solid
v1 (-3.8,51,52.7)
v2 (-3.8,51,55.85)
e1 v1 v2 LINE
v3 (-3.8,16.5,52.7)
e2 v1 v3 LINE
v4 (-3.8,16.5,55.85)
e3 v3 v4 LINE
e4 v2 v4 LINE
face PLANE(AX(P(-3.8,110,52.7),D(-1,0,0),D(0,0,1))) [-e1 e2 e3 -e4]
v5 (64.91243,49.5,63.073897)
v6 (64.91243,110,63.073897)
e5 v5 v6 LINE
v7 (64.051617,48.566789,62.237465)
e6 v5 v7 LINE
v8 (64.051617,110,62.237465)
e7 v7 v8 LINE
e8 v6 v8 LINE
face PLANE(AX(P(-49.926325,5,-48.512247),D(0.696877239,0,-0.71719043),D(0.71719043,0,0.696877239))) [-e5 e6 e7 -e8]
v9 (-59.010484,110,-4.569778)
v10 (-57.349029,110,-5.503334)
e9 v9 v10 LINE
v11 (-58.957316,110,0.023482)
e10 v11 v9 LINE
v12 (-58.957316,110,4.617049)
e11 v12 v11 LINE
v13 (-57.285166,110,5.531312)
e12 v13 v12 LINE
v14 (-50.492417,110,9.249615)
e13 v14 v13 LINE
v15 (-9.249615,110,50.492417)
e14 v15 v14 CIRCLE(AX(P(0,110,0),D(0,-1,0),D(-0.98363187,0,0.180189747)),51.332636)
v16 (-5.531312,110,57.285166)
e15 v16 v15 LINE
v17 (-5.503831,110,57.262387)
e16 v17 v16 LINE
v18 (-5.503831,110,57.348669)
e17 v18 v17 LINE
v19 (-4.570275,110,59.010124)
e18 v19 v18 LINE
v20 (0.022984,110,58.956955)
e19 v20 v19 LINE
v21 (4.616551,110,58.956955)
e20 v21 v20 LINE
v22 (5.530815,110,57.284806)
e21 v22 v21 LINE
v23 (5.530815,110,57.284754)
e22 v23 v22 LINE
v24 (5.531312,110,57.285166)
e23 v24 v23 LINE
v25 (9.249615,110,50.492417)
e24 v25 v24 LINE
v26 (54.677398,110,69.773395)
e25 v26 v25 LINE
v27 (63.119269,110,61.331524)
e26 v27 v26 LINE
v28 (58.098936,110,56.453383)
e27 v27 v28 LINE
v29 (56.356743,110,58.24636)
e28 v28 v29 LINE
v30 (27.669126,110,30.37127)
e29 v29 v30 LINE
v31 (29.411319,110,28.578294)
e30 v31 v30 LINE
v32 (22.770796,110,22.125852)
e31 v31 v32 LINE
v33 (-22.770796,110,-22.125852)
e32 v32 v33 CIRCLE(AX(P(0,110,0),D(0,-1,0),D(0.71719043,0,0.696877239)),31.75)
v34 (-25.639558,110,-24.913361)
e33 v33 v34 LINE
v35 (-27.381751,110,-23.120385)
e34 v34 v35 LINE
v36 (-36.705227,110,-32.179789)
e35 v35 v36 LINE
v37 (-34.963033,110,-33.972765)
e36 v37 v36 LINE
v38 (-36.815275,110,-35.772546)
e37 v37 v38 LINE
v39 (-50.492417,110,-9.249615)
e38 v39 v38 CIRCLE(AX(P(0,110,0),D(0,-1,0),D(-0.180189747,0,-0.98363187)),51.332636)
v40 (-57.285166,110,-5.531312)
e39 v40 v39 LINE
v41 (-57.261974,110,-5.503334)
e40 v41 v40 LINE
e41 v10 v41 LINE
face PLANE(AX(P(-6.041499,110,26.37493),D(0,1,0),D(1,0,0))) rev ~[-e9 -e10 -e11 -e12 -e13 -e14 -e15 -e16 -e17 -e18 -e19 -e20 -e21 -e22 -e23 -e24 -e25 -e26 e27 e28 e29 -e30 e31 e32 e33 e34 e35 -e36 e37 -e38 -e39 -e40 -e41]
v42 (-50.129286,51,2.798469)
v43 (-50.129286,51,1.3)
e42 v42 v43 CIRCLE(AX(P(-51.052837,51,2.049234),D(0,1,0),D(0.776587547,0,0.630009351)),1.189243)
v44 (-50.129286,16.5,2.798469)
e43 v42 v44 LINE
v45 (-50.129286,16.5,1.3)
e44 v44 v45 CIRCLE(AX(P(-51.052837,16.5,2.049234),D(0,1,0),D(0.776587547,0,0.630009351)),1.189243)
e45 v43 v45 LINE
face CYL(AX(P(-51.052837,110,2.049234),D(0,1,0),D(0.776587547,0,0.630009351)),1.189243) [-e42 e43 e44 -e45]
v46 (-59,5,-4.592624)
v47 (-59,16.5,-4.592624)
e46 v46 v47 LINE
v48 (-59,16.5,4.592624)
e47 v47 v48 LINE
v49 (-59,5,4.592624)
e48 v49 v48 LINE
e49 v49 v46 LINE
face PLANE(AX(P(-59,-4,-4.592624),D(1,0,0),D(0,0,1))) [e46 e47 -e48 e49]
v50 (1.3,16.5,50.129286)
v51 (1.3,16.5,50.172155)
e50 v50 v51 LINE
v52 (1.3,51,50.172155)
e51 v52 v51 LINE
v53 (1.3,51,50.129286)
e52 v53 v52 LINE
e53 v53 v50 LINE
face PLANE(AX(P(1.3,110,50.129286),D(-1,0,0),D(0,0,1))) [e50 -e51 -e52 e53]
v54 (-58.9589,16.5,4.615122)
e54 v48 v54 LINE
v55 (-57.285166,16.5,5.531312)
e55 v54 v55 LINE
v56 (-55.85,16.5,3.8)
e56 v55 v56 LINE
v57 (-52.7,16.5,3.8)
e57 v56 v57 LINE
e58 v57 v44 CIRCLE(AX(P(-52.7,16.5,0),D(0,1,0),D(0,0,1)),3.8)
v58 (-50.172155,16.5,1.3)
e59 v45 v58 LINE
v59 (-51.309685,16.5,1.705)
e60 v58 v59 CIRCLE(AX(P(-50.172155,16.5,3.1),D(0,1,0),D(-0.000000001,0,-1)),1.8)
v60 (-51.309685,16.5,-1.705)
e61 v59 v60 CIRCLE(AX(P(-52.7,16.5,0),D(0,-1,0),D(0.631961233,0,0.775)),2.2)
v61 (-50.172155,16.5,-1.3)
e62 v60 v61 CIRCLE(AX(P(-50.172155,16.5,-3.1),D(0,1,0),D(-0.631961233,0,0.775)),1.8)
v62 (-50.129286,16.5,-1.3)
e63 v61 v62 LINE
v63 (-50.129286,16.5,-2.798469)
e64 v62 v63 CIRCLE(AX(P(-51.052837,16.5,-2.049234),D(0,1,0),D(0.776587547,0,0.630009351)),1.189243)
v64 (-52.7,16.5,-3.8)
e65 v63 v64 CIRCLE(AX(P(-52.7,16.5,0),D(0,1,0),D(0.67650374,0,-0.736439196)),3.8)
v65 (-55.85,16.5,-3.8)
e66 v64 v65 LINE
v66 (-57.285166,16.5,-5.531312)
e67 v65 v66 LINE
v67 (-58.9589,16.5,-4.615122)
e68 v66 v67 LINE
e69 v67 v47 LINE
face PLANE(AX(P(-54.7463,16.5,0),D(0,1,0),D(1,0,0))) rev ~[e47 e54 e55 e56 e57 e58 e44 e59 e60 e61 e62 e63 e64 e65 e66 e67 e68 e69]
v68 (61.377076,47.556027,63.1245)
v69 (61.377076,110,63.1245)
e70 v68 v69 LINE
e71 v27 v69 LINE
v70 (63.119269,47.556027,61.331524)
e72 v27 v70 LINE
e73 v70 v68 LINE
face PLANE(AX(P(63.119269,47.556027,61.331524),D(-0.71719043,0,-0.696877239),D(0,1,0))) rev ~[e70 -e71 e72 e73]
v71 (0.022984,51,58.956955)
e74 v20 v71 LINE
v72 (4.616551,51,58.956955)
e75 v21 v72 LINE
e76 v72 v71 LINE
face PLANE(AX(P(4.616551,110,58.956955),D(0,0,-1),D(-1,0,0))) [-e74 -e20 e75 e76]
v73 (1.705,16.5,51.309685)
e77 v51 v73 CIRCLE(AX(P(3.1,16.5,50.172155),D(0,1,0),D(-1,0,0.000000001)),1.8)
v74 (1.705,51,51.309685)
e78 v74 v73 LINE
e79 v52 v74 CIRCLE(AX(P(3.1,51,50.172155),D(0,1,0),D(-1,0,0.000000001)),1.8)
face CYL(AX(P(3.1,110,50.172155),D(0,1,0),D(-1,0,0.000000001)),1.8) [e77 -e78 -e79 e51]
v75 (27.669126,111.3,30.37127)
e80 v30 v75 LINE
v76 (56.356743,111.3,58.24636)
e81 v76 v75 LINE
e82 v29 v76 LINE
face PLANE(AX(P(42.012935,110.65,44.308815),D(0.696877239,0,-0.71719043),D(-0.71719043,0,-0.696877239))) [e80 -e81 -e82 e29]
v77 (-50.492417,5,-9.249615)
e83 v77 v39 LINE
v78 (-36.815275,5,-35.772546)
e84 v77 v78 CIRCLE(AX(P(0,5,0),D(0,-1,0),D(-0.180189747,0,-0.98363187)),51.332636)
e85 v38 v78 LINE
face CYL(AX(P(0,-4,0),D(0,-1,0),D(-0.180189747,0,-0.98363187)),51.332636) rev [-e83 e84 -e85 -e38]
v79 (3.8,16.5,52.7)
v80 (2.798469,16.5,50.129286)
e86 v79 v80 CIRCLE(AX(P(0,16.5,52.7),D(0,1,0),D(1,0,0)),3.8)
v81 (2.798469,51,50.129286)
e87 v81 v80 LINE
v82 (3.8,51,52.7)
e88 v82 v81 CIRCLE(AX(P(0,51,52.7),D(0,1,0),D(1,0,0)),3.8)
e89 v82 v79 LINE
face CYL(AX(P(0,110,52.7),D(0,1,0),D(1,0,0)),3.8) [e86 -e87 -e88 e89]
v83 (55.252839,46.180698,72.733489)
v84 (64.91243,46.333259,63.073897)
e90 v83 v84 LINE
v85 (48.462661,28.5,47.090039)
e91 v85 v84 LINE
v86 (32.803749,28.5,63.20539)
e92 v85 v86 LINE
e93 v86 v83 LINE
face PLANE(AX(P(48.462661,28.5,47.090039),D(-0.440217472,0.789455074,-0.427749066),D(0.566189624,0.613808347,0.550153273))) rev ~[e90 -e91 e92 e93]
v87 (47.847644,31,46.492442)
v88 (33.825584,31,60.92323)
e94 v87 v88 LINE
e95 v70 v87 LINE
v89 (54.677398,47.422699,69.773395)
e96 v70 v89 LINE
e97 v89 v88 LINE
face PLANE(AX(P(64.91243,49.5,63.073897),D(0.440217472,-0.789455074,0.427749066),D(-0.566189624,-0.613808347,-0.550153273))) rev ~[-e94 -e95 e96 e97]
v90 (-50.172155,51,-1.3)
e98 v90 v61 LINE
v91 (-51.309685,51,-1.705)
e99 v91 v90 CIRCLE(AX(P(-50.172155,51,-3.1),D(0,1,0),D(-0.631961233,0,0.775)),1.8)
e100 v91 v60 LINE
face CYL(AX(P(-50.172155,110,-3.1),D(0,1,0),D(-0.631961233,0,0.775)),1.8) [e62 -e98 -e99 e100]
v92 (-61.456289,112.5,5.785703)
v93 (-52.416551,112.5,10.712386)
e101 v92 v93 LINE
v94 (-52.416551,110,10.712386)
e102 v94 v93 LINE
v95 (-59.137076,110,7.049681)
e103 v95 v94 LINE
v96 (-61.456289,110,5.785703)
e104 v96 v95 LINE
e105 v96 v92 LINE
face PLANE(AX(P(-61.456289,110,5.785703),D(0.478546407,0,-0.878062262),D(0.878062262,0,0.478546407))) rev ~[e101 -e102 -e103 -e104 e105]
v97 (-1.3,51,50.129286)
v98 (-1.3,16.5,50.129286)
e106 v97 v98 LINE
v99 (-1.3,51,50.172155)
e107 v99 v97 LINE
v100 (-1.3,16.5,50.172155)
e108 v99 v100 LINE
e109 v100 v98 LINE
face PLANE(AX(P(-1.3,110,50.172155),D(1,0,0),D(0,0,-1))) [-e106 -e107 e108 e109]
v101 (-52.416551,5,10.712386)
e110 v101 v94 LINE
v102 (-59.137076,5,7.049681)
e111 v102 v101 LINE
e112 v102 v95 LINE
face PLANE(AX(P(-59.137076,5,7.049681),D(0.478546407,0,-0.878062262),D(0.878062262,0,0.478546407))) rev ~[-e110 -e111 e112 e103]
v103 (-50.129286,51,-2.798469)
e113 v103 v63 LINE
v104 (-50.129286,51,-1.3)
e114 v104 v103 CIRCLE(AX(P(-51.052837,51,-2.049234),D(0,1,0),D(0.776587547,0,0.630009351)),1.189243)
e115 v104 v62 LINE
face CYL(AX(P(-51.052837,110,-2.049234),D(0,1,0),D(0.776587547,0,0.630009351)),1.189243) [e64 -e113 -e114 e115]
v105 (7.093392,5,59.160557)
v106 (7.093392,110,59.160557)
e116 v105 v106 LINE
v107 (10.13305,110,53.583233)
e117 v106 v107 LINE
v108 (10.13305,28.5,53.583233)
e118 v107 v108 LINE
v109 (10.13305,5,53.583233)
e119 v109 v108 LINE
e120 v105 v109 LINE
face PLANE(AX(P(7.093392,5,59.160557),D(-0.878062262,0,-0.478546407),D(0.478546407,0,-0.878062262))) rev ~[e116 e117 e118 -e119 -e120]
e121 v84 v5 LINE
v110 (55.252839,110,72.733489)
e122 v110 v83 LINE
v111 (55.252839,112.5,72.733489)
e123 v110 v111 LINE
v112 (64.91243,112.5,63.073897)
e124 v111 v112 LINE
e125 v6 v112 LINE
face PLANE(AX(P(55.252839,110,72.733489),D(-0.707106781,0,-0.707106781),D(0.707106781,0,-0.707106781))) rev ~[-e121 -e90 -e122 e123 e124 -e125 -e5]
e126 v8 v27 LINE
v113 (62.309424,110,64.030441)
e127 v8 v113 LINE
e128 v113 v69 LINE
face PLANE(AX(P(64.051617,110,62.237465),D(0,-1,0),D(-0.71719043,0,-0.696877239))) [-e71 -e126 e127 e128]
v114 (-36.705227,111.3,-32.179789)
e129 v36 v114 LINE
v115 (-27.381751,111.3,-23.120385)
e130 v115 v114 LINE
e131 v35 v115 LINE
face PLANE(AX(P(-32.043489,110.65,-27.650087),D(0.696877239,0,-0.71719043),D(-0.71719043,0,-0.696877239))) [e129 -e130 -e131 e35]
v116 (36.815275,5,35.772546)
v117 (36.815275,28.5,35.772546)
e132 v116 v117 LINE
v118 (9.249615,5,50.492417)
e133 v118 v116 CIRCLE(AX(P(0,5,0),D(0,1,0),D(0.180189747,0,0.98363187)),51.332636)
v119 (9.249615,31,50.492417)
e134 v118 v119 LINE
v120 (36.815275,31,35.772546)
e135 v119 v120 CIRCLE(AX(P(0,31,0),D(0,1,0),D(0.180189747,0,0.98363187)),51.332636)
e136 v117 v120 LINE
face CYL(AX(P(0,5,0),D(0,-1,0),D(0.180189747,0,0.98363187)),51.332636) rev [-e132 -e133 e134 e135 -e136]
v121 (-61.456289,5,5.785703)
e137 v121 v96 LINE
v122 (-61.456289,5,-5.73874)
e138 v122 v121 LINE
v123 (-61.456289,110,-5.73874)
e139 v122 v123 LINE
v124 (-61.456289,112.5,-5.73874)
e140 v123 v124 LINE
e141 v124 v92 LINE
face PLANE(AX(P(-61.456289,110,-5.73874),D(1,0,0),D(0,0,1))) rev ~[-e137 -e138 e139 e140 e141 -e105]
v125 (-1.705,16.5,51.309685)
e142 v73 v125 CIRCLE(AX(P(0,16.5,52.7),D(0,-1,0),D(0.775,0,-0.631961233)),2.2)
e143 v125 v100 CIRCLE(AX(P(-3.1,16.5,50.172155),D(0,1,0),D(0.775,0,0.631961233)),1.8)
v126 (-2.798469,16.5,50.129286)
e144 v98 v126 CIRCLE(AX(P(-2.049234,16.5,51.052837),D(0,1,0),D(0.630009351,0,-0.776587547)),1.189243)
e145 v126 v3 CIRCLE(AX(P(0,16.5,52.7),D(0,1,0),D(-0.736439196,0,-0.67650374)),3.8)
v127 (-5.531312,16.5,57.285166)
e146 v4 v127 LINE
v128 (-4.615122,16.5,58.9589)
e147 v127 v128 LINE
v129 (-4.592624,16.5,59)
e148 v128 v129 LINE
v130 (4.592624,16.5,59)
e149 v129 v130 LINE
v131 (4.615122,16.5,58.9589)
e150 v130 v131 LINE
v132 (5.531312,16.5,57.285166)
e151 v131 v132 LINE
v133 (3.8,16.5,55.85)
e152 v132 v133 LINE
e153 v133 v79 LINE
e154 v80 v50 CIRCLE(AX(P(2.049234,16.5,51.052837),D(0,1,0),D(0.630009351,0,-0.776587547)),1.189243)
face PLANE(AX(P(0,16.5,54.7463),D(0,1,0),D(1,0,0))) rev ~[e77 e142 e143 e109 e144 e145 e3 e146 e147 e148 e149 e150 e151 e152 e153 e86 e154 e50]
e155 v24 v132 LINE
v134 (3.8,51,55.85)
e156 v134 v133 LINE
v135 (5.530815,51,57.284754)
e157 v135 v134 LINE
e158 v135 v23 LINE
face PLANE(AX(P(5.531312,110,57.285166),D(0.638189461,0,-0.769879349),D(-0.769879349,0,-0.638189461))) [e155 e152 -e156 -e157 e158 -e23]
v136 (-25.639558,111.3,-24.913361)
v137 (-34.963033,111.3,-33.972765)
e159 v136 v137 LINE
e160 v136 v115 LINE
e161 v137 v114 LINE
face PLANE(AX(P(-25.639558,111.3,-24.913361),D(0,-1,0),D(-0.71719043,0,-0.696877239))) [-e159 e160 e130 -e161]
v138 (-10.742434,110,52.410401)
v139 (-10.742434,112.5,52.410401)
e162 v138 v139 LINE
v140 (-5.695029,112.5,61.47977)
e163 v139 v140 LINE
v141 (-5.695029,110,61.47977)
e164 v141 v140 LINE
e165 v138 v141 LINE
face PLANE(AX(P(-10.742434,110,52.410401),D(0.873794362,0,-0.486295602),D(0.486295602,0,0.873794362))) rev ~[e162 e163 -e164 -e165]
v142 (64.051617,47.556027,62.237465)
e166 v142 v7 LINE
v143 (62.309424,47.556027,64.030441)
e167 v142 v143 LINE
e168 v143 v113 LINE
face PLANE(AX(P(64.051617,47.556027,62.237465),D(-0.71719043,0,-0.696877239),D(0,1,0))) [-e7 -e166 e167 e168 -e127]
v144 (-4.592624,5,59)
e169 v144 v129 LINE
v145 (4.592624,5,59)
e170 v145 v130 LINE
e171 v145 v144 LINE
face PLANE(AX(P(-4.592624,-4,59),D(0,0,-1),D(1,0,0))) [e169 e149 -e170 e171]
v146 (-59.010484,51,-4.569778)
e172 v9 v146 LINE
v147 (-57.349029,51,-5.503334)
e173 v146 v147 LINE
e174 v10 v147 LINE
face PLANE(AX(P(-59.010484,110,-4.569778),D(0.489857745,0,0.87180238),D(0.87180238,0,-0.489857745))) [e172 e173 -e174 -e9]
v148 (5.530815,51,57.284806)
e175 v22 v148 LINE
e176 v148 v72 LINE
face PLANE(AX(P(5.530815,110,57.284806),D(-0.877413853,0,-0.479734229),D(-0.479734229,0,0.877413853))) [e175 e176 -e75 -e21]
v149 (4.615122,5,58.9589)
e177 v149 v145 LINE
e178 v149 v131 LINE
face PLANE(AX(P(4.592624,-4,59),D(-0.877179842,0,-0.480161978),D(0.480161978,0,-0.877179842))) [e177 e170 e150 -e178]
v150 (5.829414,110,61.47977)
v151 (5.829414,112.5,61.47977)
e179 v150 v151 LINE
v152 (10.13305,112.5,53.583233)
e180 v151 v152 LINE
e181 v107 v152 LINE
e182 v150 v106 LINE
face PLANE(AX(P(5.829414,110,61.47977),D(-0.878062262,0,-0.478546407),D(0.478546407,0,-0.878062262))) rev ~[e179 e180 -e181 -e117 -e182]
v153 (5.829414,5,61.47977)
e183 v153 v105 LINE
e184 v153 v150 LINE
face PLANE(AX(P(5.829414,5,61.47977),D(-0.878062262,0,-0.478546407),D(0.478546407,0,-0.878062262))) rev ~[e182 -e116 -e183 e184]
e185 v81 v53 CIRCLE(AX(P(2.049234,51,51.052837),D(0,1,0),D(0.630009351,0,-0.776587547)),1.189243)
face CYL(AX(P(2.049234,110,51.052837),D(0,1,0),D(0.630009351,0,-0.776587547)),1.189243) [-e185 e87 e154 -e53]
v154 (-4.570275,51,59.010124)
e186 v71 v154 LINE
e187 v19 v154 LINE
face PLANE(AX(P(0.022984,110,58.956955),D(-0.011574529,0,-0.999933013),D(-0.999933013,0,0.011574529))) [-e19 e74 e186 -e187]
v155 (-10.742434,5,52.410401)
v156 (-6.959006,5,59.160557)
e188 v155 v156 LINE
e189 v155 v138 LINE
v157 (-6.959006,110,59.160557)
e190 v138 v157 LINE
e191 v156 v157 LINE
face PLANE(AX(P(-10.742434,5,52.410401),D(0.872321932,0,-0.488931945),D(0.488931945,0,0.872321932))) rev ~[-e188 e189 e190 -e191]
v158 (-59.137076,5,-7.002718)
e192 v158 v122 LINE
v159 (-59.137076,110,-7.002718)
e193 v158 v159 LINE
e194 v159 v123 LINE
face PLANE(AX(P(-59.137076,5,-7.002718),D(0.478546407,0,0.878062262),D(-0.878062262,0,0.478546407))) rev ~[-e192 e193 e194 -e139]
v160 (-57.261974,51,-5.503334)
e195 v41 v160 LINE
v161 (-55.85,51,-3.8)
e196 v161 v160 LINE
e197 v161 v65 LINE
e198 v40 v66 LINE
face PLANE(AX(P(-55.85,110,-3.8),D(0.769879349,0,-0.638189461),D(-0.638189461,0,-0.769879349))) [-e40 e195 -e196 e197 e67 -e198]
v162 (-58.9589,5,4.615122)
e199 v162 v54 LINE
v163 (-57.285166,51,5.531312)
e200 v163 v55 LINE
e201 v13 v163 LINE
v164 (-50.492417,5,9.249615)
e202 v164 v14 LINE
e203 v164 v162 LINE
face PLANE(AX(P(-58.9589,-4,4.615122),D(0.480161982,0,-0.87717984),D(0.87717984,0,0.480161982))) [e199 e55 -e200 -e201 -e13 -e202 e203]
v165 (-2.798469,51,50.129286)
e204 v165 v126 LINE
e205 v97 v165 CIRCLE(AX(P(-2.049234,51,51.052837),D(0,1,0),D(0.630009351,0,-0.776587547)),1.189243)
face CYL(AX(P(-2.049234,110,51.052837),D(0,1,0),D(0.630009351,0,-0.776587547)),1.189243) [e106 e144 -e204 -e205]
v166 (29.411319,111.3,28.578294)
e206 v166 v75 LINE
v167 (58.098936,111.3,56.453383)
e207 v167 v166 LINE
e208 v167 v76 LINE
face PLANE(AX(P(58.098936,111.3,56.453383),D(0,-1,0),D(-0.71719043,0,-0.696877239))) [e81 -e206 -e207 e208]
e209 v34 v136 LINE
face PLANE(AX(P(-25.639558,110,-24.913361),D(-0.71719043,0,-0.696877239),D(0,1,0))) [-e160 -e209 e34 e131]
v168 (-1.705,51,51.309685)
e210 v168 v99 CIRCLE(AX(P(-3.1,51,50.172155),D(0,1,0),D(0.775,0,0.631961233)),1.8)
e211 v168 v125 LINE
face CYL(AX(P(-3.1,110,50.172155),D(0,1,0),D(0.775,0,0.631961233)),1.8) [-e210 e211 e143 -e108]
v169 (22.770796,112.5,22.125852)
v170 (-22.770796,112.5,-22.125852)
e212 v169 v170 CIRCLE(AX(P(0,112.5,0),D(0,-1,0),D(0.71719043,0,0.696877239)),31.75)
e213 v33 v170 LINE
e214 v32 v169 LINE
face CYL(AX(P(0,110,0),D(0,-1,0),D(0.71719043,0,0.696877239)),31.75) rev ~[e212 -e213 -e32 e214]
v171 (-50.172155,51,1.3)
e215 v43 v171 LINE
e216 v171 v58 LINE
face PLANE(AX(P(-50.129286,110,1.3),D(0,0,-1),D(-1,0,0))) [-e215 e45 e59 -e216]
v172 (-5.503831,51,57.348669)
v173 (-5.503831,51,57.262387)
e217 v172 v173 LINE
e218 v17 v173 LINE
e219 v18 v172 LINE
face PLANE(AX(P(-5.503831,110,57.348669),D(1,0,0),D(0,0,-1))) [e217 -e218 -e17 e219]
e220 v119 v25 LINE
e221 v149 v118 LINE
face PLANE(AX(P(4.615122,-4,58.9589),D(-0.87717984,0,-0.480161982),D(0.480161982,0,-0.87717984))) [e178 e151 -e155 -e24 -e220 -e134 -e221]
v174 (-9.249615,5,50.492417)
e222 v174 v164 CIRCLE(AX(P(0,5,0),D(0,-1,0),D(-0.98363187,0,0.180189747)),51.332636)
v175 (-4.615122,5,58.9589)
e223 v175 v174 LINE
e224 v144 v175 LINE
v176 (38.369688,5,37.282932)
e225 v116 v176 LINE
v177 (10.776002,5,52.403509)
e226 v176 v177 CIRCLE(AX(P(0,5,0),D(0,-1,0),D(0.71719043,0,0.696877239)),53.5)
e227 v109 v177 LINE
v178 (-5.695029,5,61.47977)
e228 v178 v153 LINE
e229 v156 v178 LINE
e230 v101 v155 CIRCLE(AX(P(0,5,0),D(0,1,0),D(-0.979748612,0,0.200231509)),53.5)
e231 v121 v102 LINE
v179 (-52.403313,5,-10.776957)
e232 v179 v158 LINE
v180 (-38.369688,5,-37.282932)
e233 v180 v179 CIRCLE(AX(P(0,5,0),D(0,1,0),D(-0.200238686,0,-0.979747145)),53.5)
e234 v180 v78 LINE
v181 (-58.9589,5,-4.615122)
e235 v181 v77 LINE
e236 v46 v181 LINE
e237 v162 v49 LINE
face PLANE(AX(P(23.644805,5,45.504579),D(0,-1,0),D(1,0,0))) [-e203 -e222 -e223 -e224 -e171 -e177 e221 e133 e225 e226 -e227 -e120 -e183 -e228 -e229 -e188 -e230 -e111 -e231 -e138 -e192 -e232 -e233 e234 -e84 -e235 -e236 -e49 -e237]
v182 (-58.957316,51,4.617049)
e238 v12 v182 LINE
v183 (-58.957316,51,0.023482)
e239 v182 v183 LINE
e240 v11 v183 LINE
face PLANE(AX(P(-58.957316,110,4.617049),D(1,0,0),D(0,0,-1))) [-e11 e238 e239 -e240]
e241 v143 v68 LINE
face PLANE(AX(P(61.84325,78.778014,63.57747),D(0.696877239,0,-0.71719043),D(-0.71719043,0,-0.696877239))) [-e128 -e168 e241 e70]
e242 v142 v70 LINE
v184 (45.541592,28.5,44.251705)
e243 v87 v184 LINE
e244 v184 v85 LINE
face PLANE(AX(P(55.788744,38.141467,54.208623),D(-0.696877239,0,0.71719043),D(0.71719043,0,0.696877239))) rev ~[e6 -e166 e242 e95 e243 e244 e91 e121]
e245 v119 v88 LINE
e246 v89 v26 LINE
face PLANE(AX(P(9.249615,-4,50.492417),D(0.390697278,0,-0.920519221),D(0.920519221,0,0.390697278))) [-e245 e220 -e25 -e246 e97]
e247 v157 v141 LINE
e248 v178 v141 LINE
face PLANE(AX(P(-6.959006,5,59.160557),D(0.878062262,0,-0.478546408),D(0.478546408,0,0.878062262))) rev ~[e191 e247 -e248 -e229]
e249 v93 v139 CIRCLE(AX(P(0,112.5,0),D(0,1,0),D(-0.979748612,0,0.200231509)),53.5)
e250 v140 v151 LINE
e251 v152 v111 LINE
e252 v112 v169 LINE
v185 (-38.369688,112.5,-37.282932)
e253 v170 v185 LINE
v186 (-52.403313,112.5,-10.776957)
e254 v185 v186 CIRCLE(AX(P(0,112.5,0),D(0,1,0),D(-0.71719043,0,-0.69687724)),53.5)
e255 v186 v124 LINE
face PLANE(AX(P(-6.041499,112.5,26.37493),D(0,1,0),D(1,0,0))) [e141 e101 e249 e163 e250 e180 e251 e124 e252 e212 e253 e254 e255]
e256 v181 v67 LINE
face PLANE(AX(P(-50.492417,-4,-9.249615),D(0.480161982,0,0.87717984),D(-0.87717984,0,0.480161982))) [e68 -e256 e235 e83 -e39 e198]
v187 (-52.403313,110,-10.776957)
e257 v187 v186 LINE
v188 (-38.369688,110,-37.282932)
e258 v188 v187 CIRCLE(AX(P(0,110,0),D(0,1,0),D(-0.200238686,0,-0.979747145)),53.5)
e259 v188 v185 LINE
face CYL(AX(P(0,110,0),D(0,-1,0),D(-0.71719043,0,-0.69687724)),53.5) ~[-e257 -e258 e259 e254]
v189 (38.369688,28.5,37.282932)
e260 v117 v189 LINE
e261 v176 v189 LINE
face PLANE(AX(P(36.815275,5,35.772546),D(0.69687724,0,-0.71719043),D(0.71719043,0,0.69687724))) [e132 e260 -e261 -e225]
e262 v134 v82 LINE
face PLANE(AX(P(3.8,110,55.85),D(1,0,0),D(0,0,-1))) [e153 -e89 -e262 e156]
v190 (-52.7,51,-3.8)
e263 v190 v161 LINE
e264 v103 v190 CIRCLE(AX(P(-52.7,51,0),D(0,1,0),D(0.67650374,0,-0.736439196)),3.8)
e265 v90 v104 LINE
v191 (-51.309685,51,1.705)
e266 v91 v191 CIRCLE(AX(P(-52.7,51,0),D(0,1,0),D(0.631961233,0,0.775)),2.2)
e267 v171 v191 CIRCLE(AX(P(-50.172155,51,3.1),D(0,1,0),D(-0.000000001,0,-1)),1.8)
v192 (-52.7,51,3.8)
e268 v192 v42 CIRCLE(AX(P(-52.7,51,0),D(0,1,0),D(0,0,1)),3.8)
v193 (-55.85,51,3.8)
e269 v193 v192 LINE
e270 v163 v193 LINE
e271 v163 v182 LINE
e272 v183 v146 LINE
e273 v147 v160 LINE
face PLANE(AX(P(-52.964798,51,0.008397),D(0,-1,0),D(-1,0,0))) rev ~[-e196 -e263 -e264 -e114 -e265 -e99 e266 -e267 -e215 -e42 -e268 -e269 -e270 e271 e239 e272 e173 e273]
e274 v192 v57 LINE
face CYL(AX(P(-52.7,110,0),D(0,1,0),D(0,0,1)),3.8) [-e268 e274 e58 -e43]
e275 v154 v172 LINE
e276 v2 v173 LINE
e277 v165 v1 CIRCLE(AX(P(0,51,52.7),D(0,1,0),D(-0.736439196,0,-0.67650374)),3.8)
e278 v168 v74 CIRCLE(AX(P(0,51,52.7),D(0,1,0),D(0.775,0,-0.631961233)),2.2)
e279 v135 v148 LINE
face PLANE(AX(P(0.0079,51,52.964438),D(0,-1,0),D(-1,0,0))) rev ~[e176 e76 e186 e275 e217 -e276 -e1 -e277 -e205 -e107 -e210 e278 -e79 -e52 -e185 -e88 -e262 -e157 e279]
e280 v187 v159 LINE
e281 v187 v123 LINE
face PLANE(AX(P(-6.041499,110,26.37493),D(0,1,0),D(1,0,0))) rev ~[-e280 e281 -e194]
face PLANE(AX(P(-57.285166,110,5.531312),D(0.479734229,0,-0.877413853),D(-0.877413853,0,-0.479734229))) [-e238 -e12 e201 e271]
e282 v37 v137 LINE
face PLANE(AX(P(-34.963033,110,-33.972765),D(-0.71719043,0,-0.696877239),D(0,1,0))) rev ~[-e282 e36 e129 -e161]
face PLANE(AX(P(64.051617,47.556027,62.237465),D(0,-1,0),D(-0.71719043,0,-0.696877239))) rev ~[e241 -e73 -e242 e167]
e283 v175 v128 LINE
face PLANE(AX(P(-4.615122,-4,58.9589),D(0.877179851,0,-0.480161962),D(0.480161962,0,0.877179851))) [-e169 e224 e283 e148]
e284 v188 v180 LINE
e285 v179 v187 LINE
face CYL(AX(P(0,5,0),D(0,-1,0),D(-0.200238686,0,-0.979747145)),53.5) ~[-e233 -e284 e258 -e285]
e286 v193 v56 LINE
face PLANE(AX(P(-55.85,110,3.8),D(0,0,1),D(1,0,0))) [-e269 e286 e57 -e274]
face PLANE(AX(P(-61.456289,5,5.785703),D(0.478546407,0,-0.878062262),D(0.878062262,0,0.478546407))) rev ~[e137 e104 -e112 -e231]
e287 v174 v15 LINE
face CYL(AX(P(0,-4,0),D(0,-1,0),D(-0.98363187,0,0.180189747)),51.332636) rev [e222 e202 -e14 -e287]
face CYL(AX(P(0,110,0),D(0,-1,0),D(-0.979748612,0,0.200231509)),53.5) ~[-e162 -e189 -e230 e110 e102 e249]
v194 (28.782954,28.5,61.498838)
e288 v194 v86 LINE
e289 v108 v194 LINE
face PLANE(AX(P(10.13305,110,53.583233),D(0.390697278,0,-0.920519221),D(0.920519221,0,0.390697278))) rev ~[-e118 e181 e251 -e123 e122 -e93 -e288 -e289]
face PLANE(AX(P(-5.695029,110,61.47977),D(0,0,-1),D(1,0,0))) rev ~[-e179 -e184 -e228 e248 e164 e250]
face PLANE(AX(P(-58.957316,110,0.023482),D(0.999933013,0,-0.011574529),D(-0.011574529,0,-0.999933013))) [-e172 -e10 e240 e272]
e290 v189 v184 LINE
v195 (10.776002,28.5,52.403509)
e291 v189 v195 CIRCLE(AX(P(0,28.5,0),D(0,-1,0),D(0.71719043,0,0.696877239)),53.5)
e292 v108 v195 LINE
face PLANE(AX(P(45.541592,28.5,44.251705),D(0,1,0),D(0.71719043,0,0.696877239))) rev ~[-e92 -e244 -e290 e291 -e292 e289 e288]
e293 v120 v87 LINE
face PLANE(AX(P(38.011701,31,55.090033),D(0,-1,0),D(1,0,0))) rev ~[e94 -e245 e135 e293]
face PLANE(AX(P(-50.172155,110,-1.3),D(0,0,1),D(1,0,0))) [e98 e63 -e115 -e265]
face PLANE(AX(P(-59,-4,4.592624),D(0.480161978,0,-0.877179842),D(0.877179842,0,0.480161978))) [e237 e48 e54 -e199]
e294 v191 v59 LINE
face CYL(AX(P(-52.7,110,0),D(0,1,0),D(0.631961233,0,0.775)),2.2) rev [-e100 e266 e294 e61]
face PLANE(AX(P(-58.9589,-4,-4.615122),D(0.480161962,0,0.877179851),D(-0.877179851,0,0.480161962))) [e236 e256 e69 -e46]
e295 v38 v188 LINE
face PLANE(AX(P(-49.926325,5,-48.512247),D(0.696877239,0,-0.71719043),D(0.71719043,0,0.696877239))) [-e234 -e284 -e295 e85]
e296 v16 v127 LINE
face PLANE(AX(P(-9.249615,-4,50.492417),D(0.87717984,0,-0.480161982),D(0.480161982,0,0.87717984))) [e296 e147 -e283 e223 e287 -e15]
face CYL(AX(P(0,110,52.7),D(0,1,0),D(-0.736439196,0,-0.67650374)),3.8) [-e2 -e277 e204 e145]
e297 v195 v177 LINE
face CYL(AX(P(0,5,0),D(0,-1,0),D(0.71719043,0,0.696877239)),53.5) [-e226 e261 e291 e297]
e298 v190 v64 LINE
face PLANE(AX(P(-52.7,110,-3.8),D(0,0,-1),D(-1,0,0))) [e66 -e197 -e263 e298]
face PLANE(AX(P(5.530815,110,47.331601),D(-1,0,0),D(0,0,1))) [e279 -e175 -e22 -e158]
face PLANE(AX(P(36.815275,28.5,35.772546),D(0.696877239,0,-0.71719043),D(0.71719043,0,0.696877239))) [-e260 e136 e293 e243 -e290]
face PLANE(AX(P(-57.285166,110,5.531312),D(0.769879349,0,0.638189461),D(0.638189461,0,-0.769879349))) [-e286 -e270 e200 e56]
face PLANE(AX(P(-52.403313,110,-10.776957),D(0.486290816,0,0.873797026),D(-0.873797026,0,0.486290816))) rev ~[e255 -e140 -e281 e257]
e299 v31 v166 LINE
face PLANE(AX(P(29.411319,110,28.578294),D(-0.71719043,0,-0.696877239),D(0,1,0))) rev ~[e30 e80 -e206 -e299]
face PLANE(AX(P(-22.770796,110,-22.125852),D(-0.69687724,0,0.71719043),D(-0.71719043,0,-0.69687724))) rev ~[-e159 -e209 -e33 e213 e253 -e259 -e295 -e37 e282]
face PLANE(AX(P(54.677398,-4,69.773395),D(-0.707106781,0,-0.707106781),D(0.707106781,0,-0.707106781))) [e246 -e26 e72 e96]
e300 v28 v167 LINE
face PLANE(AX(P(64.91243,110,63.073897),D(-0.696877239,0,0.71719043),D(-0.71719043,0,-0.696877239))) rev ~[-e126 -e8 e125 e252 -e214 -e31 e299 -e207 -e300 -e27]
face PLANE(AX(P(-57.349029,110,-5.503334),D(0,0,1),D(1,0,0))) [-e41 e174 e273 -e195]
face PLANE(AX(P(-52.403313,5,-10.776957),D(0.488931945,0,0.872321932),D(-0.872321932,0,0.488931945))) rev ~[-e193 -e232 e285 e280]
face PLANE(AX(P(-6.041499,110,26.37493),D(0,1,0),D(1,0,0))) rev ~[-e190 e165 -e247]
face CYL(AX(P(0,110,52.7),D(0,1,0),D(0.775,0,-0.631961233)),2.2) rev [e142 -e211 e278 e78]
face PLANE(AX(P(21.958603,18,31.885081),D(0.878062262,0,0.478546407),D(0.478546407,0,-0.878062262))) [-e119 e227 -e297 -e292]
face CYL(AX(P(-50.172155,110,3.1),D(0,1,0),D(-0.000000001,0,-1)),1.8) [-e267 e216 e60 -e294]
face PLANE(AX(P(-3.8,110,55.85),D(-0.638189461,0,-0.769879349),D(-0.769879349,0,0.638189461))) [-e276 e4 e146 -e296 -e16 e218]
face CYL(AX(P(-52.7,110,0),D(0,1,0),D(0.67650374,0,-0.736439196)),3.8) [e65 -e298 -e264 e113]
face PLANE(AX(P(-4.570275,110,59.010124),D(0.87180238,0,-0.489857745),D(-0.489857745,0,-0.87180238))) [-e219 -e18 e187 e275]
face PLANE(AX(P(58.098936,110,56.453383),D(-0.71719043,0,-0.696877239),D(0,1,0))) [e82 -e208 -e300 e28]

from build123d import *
from build123d.topology import SkipClean

# Parameters (mm, degrees)
SALIENTE_EXTRUIR1_DEPTH  = 5
CROQUIS2_R               = 2.1
CORTAR_EXTRUIR1_DEPTH    = 83.176639016
CORTAR_EXTRUIR2_DEPTH    = 83.176639016
CROQUIS5_R               = 2.05
CORTAR_EXTRUIR4_DEPTH    = 83.176639016
SALIENTE_EXTRUIR2_DEPTH  = 5
CORTAR_EXTRUIR10_DEPTH   = 98.128780493
SALIENTE_EXTRUIR4_DEPTH  = 4
SALIENTE_EXTRUIR5_DEPTH  = 4
CROQUIS17_R              = 2.4
CORTAR_EXTRUIR11_DEPTH   = 98.128780493
SALIENTE_EXTRUIR6_DEPTH  = 105
CORTAR_EXTRUIR12_DEPTH   = 200
CORTAR_EXTRUIR13_DEPTH   = 200
SALIENTE_EXTRUIR7_DEPTH  = 93.5
CROQUIS28_W              = 67.409090619
CROQUIS28_H              = 26
CORTAR_EXTRUIR15_DEPTH   = 104
SALIENTE_EXTRUIR12_START = 2.5
SALIENTE_EXTRUIR12_DEPTH = 2.5
SALIENTE_EXTRUIR13_START = 23.5
SALIENTE_EXTRUIR13_DEPTH = 23.5
CORTAR_EXTRUIR20_DEPTH   = 50
SALIENTE_EXTRUIR18_DEPTH = 30.5
CROQUIS45_W              = 45.132524043
CROQUIS45_H              = 53.175944169
CORTAR_EXTRUIR23_DEPTH   = 30.5
CROQUIS46_W              = 25.804527637
CROQUIS46_H              = 25.652736297
CORTAR_EXTRUIR24_DEPTH   = 30.5
CORTAR_EXTRUIR26_DEPTH   = 59
SALIENTE_EXTRUIR19_DEPTH = 2.5
CROQUIS49_W              = 1.3
CROQUIS49_H              = 62.443972795
CORTAR_EXTRUIR27_DEPTH   = 2.5
CROQUIS50_W              = 40
CROQUIS50_H              = 1.3
CORTAR_EXTRUIR28_DEPTH   = 2.5
CROQUIS51_W              = 13
CROQUIS51_H              = 1.3
CORTAR_EXTRUIR29_DEPTH   = 2.5


with BuildPart() as part:
    # Croquis1 → Saliente-Extruir1 (new body)
    with BuildSketch(Plane(origin=(0, 0, 0), x_dir=(1, 0, 0), z_dir=(0, 1, 0))):
        with BuildLine():
            Line((4, 58), (8.807070745, 49.218243619))
            ThreePointArc((8.807070745, 49.218243619), (35.355339059, 35.355339059), (49.218243619, 8.807070745))
            Line((49.218243619, 8.807070745), (58, 4))
            Line((58, 4), (58, -4))
            Line((58, -4), (49.218243619, -8.807070745))
            ThreePointArc((49.218243619, -8.807070745), (35.355339059, -35.355339059), (8.807070745, -49.218243619))
            Line((8.807070745, -49.218243619), (4, -58))
            Line((4, -58), (-4, -58))
            Line((-4, -58), (-8.807070745, -49.218243619))
            ThreePointArc((-8.807070745, -49.218243619), (-35.355339059, -35.355339059), (-49.218243619, -8.807070745))
            Line((-49.218243619, -8.807070745), (-58, -4))
            Line((-58, -4), (-58, 4))
            Line((-58, 4), (-49.218243619, 8.807070745))
            ThreePointArc((-49.218243619, 8.807070745), (-35.355339059, 35.355339059), (-8.807070745, 49.218243619))
            Line((-8.807070745, 49.218243619), (-4, 58))
            Line((-4, 58), (4, 58))
        make_face()
    extrude(amount=SALIENTE_EXTRUIR1_DEPTH)

    # Croquis2 → Cortar-Extruir1 (cut, through all)
    with BuildSketch(Plane(origin=(0, 5, 0), x_dir=(1, 0, 0), z_dir=(0, 1, 0))):
        with Locations(Location((0, 52.7, 0), (0, 0, 270))):
            Circle(CROQUIS2_R)
        with Locations(Location((52.7, 0, 0), (0, 0, 270))):
            Circle(CROQUIS2_R)
        with Locations(Location((0, -52.7, 0), (0, 0, 270))):
            Circle(CROQUIS2_R)
        with Locations(Location((-52.7, 0, 0), (0, 0, 270))):
            Circle(CROQUIS2_R)
    extrude(amount=-CORTAR_EXTRUIR1_DEPTH, mode=Mode.SUBTRACT)

    # Croquis3 → Cortar-Extruir2 (cut, through all)
    with BuildSketch(Plane(origin=(0, 5, 0), x_dir=(1, 0, 0), z_dir=(0, 1, 0))):
        Polygon((20.506096654, -34.648232278), (34.648232278, -20.506096654), (47.376154339, -33.234018716), (67.218949341, -53.076813717), (53.076813717, -67.218949341), (33.234018716, -47.376154339), align=None)
    extrude(amount=-CORTAR_EXTRUIR2_DEPTH, mode=Mode.SUBTRACT)

    # Croquis5 → Cortar-Extruir4 (cut, through all)
    with BuildSketch(Plane(origin=(0, 5, 0), x_dir=(1, 0, 0), z_dir=(0, 1, 0))):
        with Locations(Location((-7.78, 7.78, 0), (0, 0, 270))):
            Circle(CROQUIS5_R)
        with Locations(Location((7.78, 7.78, 0), (0, 0, 270))):
            Circle(CROQUIS5_R)
        with Locations(Location((7.78, -7.78, 0), (0, 0, 270))):
            Circle(CROQUIS5_R)
        with Locations(Location((-7.78, -7.78, 0), (0, 0, 270))):
            Circle(CROQUIS5_R)
        with BuildLine():
            Line((21.554064831, -30.039346205), (23.334523779, -31.819805153))
            Line((23.334523779, -31.819805153), (24.748737342, -30.405591591))
            Line((24.748737342, -30.405591591), (22.968278393, -28.625132642))
            ThreePointArc((22.968278393, -28.625132642), (19.622213178, -26.69328099), (21.554064831, -30.039346205))
        make_face()
        with BuildLine():
            Line((28.625132642, -22.968278393), (30.986174209, -25.329319959))
            Line((30.986174209, -25.329319959), (32.400387771, -23.915106397))
            Line((32.400387771, -23.915106397), (30.039346205, -21.554064831))
            ThreePointArc((30.039346205, -21.554064831), (26.69328099, -19.622213178), (28.625132642, -22.968278393))
        make_face()
    extrude(amount=-CORTAR_EXTRUIR4_DEPTH, mode=Mode.SUBTRACT)

    # Croquis7 → Saliente-Extruir2 (add, through all)
    with BuildSketch(Plane(origin=(0, 5, 0), x_dir=(1, 0, 0), z_dir=(0, 1, 0))):
        Polygon((68.589357775, -54.447222151), (54.447222151, -68.589357775), (8.807070745, -49.218243619), (18.571685103, -46.422973972), (27.56994834, -41.712083963), (48.790367902, -62.932503526), (62.932503526, -48.790367902), (41.712083963, -27.56994834), (46.422973972, -18.571685103), (49.218243619, -8.807070745), align=None)
    extrude(amount=-SALIENTE_EXTRUIR2_DEPTH)

    # Croquis8 → Cortar-Extruir10 (cut, through all)
    with BuildSketch(Plane(origin=(0, 5, 0), x_dir=(1, 0, 0), z_dir=(0, 1, 0))):
        with BuildLine():
            Line((54.283137452, -59.939991701), (51.490214314, -57.147068564))
            Line((51.490214314, -57.147068564), (50.076000752, -58.561282126))
            Line((50.076000752, -58.561282126), (52.868923889, -61.354205264))
            ThreePointArc((52.868923889, -61.354205264), (56.214989104, -63.286056916), (54.283137452, -59.939991701))
        make_face()
        with BuildLine():
            Line((57.371843354, -51.714989104), (58.786056916, -50.300775542))
            Line((58.786056916, -50.300775542), (61.354205264, -52.868923889))
            ThreePointArc((61.354205264, -52.868923889), (63.286056916, -56.214989104), (59.939991701, -54.283137452))
            Line((59.939991701, -54.283137452), (57.371843354, -51.714989104))
        make_face()
    extrude(amount=-CORTAR_EXTRUIR10_DEPTH, mode=Mode.SUBTRACT)

    # Croquis15 → Saliente-Extruir4 (add)
    with BuildSketch(Plane.XZ):
        with BuildLine():
            Line((-1.111111111, -20.469866441), (-1.111111111, -22.472548411))
            ThreePointArc((-1.111111111, -22.472548411), (0, 22.5), (1.111111111, -22.472548411))
            Line((1.111111111, -22.472548411), (1.111111111, -20.469866441))
            ThreePointArc((1.111111111, -20.469866441), (0, 20.5), (-1.111111111, -20.469866441))
        make_face()
    extrude(amount=SALIENTE_EXTRUIR4_DEPTH)

    # Croquis16 → Saliente-Extruir5 (add)
    with SkipClean():  # the faces are left unmerged after this step: merging them gives an invalid solid
        with BuildSketch(Plane.XZ):
            with BuildLine():
                Line((-1.111111111, -20.469866441), (-1.111111111, -22.472548411))
                ThreePointArc((-1.111111111, -22.472548411), (0, -22.5), (1.111111111, -22.472548411))
                Line((1.111111111, -22.472548411), (1.111111111, -20.469866441))
                ThreePointArc((1.111111111, -20.469866441), (0, -20.5), (-1.111111111, -20.469866441))
            make_face()
        extrude(amount=SALIENTE_EXTRUIR5_DEPTH)

    # Croquis17 → Cortar-Extruir11 (cut, through all)
    with SkipClean():  # the faces are left unmerged after this step: merging them gives an invalid solid
        with BuildSketch(Plane.XZ):
            with Locations(Location((42.43, 0, 0), (0, 0, 270))):
                Circle(CROQUIS17_R)
            with Locations(Location((0, -42.43, 0), (0, 0, 270))):
                Circle(CROQUIS17_R)
            with Locations(Location((-42.43, 0, 0), (0, 0, 270))):
                Circle(CROQUIS17_R)
            with Locations(Location((0, 42.43, 0), (0, 0, 270))):
                Circle(CROQUIS17_R)
        extrude(amount=-CORTAR_EXTRUIR11_DEPTH, mode=Mode.SUBTRACT)

    # Croquis18 → Saliente-Extruir6 (add)
    with SkipClean():  # the faces are left unmerged after this step: merging them gives an invalid solid
        with BuildSketch(Plane(origin=(0, 5, 0), x_dir=(1, 0, 0), z_dir=(0, 1, 0))):
            with BuildLine():
                Line((-7.026199157, 59.180786921), (-10.712769702, 52.416472271))
                ThreePointArc((-10.712769702, 52.416472271), (-37.80704006, 37.853371341), (-52.403312858, 10.776956969))
                Line((-52.403312858, 10.776956969), (-59.137075713, 7.002717611))
                Line((-59.137075713, 7.002717611), (-61.456288791, 5.738739948))
                Line((-61.456288791, 5.738739948), (-61.456288791, -5.78570304))
                Line((-61.456288791, -5.78570304), (-59.137075713, -7.049680703))
                Line((-59.137075713, -7.049680703), (-52.416550741, -10.71238575))
                ThreePointArc((-52.416550741, -10.71238575), (-37.841055246, -37.819367233), (-10.74243433, -52.41040073))
                Line((-10.74243433, -52.41040073), (-6.959006403, -59.160557259))
                Line((-6.959006403, -59.160557259), (-5.695028739, -61.479770337))
                Line((-5.695028739, -61.479770337), (5.829414249, -61.479770337))
                Line((5.829414249, -61.479770337), (7.093391912, -59.160557259))
                Line((7.093391912, -59.160557259), (10.133049539, -53.583232651))
                Line((10.133049539, -53.583232651), (55.252838681, -72.733488714))
                Line((55.252838681, -72.733488714), (72.733488714, -55.252838681))
                Line((72.733488714, -55.252838681), (53.583232651, -10.133049539))
                Line((53.583232651, -10.133049539), (59.204268467, -6.982487949))
                Line((59.204268467, -6.982487949), (61.523481546, -5.718510285))
                Line((61.523481546, -5.718510285), (61.523481546, 5.805932703))
                Line((61.523481546, 5.805932703), (59.204268467, 7.069910366))
                Line((59.204268467, 7.069910366), (52.403430197, 10.776386386))
                ThreePointArc((52.403430197, 10.776386386), (37.849997802, 37.810417433), (10.831208274, 52.392126578))
                Line((10.831208274, 52.392126578), (7.026199157, 59.180786921))
                Line((7.026199157, 59.180786921), (5.762221494, 61.5))
                Line((5.762221494, 61.5), (-5.762221494, 61.5))
                Line((-5.762221494, 61.5), (-7.026199157, 59.180786921))
            make_face()
        extrude(amount=SALIENTE_EXTRUIR6_DEPTH)

    # Croquis23 → Cortar-Extruir12 (cut)
    with BuildSketch(Plane.XZ.offset(4)):
        with BuildLine():
            Line((59, -4.59262422), (58.95889986, -4.615122143))
            Line((58.95889986, -4.615122143), (50.492416575, -9.249614646))
            ThreePointArc((50.492416575, -9.249614646), (36.297654901, -36.297654901), (9.249614646, -50.492416575))
            Line((9.249614646, -50.492416575), (4.615122143, -58.95889986))
            Line((4.615122143, -58.95889986), (4.592624221, -59))
            Line((4.592624221, -59), (-4.59262422, -59))
            Line((-4.59262422, -59), (-4.615122143, -58.95889986))
            Line((-4.615122143, -58.95889986), (-9.249614646, -50.492416575))
            ThreePointArc((-9.249614646, -50.492416575), (-36.297654901, -36.297654901), (-50.492416575, -9.249614646))
            Line((-50.492416575, -9.249614646), (-58.95889986, -4.615122143))
            Line((-58.95889986, -4.615122143), (-59, -4.592624221))
            Line((-59, -4.592624221), (-59, 4.59262422))
            Line((-59, 4.59262422), (-58.95889986, 4.615122143))
            Line((-58.95889986, 4.615122143), (-50.492416575, 9.249614646))
            ThreePointArc((-50.492416575, 9.249614646), (-36.297654901, 36.297654901), (-9.249614646, 50.492416575))
            Line((-9.249614646, 50.492416575), (-4.615122143, 58.95889986))
            Line((-4.615122143, 58.95889986), (-4.592624221, 59))
            Line((-4.592624221, 59), (4.59262422, 59))
            Line((4.59262422, 59), (4.615122143, 58.95889986))
            Line((4.615122143, 58.95889986), (9.249614646, 50.492416575))
            Line((9.249614646, 50.492416575), (54.677398303, 69.773395186))
            Line((54.677398303, 69.773395186), (69.773395186, 54.677398303))
            Line((69.773395186, 54.677398303), (50.492416575, 9.249614646))
            Line((50.492416575, 9.249614646), (58.95889986, 4.615122143))
            Line((58.95889986, 4.615122143), (59, 4.592624221))
            Line((59, 4.592624221), (59, -4.59262422))
        make_face()
    extrude(amount=-CORTAR_EXTRUIR12_DEPTH, mode=Mode.SUBTRACT)

    # Croquis24 → Cortar-Extruir13 (cut)
    with BuildSketch(Plane.XZ.offset(-5)):
        Polygon((70.463480146, 68.467722749), (119.078352052, 18.435781803), (-1.311453111, -98.544188314), (-49.926325017, -48.512247367), align=None)
    extrude(amount=-CORTAR_EXTRUIR13_DEPTH, mode=Mode.SUBTRACT)

    # Croquis27 → Saliente-Extruir7 (add)
    with BuildSketch(Plane(origin=(0, 110, 0), x_dir=(1, 0, 0), z_dir=(0, 1, 0))):
        with BuildLine():
            Line((-52.7, 3.8), (-55.85, 3.8))
            Line((-55.85, 3.8), (-57.285166424, 5.531311876))
            Line((-57.285166424, 5.531311876), (-59, 4.59262422))
            Line((-59, 4.59262422), (-59, 4.1))
            Line((-59, 4.1), (-59, -4.1))
            Line((-59, -4.1), (-59, -4.59262422))
            Line((-59, -4.59262422), (-57.285166424, -5.531311876))
            Line((-57.285166424, -5.531311876), (-55.85, -3.8))
            Line((-55.85, -3.8), (-52.7, -3.8))
            ThreePointArc((-52.7, -3.8), (-51.320540321, -3.540775479), (-50.129285786, -2.798468944))
            ThreePointArc((-50.129285786, -2.798468944), (-49.863593997, -2.049234472), (-50.129285786, -1.3))
            Line((-50.129285786, -1.3), (-50.172155068, -1.3))
            ThreePointArc((-50.172155068, -1.3), (-50.775893422, -1.404270069), (-51.309685287, -1.705))
            ThreePointArc((-51.309685287, -1.705), (-54.9, 0), (-51.309685287, 1.705))
            ThreePointArc((-51.309685287, 1.705), (-50.775893422, 1.404270069), (-50.172155068, 1.3))
            Line((-50.172155068, 1.3), (-50.129285786, 1.3))
            ThreePointArc((-50.129285786, 1.3), (-49.863593997, 2.049234472), (-50.129285786, 2.798468944))
            ThreePointArc((-50.129285786, 2.798468944), (-51.320540321, 3.540775479), (-52.7, 3.8))
        make_face()
        with BuildLine():
            Line((-3.8, -52.7), (-3.8, -55.85))
            Line((-3.8, -55.85), (-5.531311876, -57.285166424))
            Line((-5.531311876, -57.285166424), (-4.59262422, -59))
            Line((-4.59262422, -59), (-4.1, -59))
            Line((-4.1, -59), (4.1, -59))
            Line((4.1, -59), (4.59262422, -59))
            Line((4.59262422, -59), (5.531311876, -57.285166424))
            Line((5.531311876, -57.285166424), (3.8, -55.85))
            Line((3.8, -55.85), (3.8, -52.7))
            ThreePointArc((3.8, -52.7), (3.540775479, -51.320540321), (2.798468944, -50.129285786))
            ThreePointArc((2.798468944, -50.129285786), (2.049234472, -49.863593997), (1.3, -50.129285786))
            Line((1.3, -50.129285786), (1.3, -50.172155068))
            ThreePointArc((1.3, -50.172155068), (1.404270069, -50.775893422), (1.705, -51.309685287))
            ThreePointArc((1.705, -51.309685287), (0, -54.9), (-1.705, -51.309685287))
            ThreePointArc((-1.705, -51.309685287), (-1.404270069, -50.775893422), (-1.3, -50.172155068))
            Line((-1.3, -50.172155068), (-1.3, -50.129285786))
            ThreePointArc((-1.3, -50.129285786), (-2.049234472, -49.863593997), (-2.798468944, -50.129285786))
            ThreePointArc((-2.798468944, -50.129285786), (-3.540775479, -51.320540321), (-3.8, -52.7))
        make_face()
    extrude(amount=-SALIENTE_EXTRUIR7_DEPTH)

    # Croquis28 → Cortar-Extruir15 (cut)
    with BuildSketch(Plane(origin=(30.327841924, 0, 16.528759307), x_dir=(0.4785464071110931, 0, -0.8780622621665641), z_dir=(0.878062262166564, 0, 0.47854640711109303))):
        with Locations((-17.488875667, 18)):
            Rectangle(CROQUIS28_W, CROQUIS28_H)
    extrude(amount=CORTAR_EXTRUIR15_DEPTH, mode=Mode.SUBTRACT)

    # Croquis35 → Saliente-Extruir12 (add)
    with BuildSketch(Plane.XZ.offset(-31).offset(SALIENTE_EXTRUIR12_START)):
        with BuildLine():
            Line((36.815275181, 35.772545563), (64.912430407, 63.073896988))
            Line((64.912430407, 63.073896988), (55.252838681, 72.733488714))
            Line((55.252838681, 72.733488714), (10.133049539, 53.583232651))
            Line((10.133049539, 53.583232651), (9.249614646, 50.492416575))
            ThreePointArc((9.249614646, 50.492416575), (24.179788447, 45.281092448), (36.815275181, 35.772545563))
        make_face()
    extrude(amount=-SALIENTE_EXTRUIR12_DEPTH)

    # Croquis36 → Saliente-Extruir13 (add)
    with BuildSketch(Plane.XZ.offset(-28.5).offset(SALIENTE_EXTRUIR13_START)):
        with BuildLine():
            Line((36.815275181, 35.772545563), (38.369688012, 37.282932313))
            ThreePointArc((38.369688012, 37.282932313), (24.431166149, 47.595883442), (7.92649179, 52.909552331))
            Line((7.92649179, 52.909552331), (9.249614646, 50.492416575))
            ThreePointArc((9.249614646, 50.492416575), (24.179788447, 45.281092448), (36.815275181, 35.772545563))
        make_face()
    extrude(amount=-SALIENTE_EXTRUIR13_DEPTH)

    # Croquis37 → Cortar-Extruir20 (cut)
    with BuildSketch(Plane(origin=(0, 0, 0), x_dir=(-0.7171904301357217, 0, -0.6968772394918195), z_dir=(0.6968772394918195, 0, -0.7171904301357217))):
        Polygon((-63.5, 28.5), (-90.509337102, 28.5), (-90.509337102, 49.5), align=None)
    extrude(amount=-CORTAR_EXTRUIR20_DEPTH, mode=Mode.SUBTRACT)

    # Croquis44 → Saliente-Extruir18 (add)
    with BuildSketch(Plane(origin=(0, 0, 0), x_dir=(-0.7171904301357217, 0, -0.6968772394918195), z_dir=(0.6968772394918195, 0, -0.7171904301357217))):
        Polygon((-90.509337102, 49.5), (-63.5, 28.5), (-67.572932559, 28.5), (-90.509337102, 46.333258683), align=None)
    extrude(amount=-SALIENTE_EXTRUIR18_DEPTH)

    # Croquis45 → Cortar-Extruir23 (cut)
    with BuildSketch(Plane(origin=(-17.724154207, 0, 41.759760177), x_dir=(0.9205192214063578, 0, 0.39069727798057796), z_dir=(-0.39069727798057796, 0, 0.9205192214063578))):
        with Locations((59.311541546, 41.806873094)):
            Rectangle(CROQUIS45_W, CROQUIS45_H)
    extrude(amount=CORTAR_EXTRUIR23_DEPTH, mode=Mode.SUBTRACT)

    # Croquis46 → Cortar-Extruir24 (cut)
    with BuildSketch(Plane(origin=(63.993163697, 0, 63.993163697), x_dir=(0.7071067811865472, 0, -0.7071067811865479), z_dir=(0.7071067811865479, 0, 0.7071067811865472))):
        with Locations((-5.952208555, 48.347893674)):
            Rectangle(CROQUIS46_W, CROQUIS46_H)
    extrude(amount=CORTAR_EXTRUIR24_DEPTH, mode=Mode.SUBTRACT)

    # Croquis47 → Cortar-Extruir26 (cut)
    with BuildSketch(Plane(origin=(0, 110, 0), x_dir=(1, 0, 0), z_dir=(0, 1, 0))):
        Polygon((-57.285166424, -5.531311876), (-58.957315638, -4.617048657), (-58.957315638, -0.023481546), (-59.010484015, 4.569777856), (-57.34902898, 5.503334171), (-47.331961612, 5.503334171), (-47.331961612, -5.531311876), align=None)
        Polygon((5.530814642, -57.284806127), (4.616551423, -58.956955341), (0.022984312, -58.956955341), (-4.57027509, -59.010123718), (-5.503831405, -57.348668683), (-5.503831405, -47.331601315), (5.530814642, -47.331601315), align=None)
    extrude(amount=-CORTAR_EXTRUIR26_DEPTH, mode=Mode.SUBTRACT)

    # Croquis48 → Saliente-Extruir19 (add)
    with BuildSketch(Plane(origin=(0, 110, 0), x_dir=(1, 0, 0), z_dir=(0, 1, 0))):
        with BuildLine():
            Line((-52.403312858, 10.776956969), (-61.456288791, 5.738739948))
            Line((-61.456288791, 5.738739948), (-61.456288791, -5.78570304))
            Line((-61.456288791, -5.78570304), (-52.416550741, -10.71238575))
            ThreePointArc((-52.416550741, -10.71238575), (-37.841055246, -37.819367233), (-10.74243433, -52.41040073))
            Line((-10.74243433, -52.41040073), (-5.695028739, -61.479770337))
            Line((-5.695028739, -61.479770337), (5.829414249, -61.479770337))
            Line((5.829414249, -61.479770337), (10.133049539, -53.583232651))
            Line((10.133049539, -53.583232651), (55.252838681, -72.733488714))
            Line((55.252838681, -72.733488714), (64.912430407, -63.073896988))
            Line((64.912430407, -63.073896988), (22.770796157, -22.125852354))
            ThreePointArc((22.770796157, -22.125852354), (-22.125852354, -22.770796157), (-22.770796157, 22.125852354))
            Line((-22.770796157, 22.125852354), (-38.369688012, 37.282932313))
            ThreePointArc((-38.369688012, 37.282932313), (-47.281879235, 25.033455535), (-52.403312858, 10.776956969))
        make_face()
    extrude(amount=SALIENTE_EXTRUIR19_DEPTH)

    # Croquis49 → Cortar-Extruir27 (cut)
    with BuildSketch(Plane(origin=(0, 0, 0), x_dir=(-0.7171904301357217, 0, -0.6968772394918195), z_dir=(0.6968772394918195, 0, -0.7171904301357217))):
        with Locations((-88.659079171, 78.778013602)):
            Rectangle(CROQUIS49_W, CROQUIS49_H)
    extrude(amount=-CORTAR_EXTRUIR27_DEPTH, mode=Mode.SUBTRACT)

    # Croquis50 → Cortar-Extruir28 (cut)
    with BuildSketch(Plane(origin=(0, 0, 0), x_dir=(-0.7171904301357217, 0, -0.6968772394918195), z_dir=(0.6968772394918195, 0, -0.7171904301357217))):
        with Locations((-61.009079171, 110.65)):
            Rectangle(CROQUIS50_W, CROQUIS50_H)
    extrude(amount=-CORTAR_EXTRUIR28_DEPTH, mode=Mode.SUBTRACT)

    # Croquis51 → Cortar-Extruir29 (cut)
    with BuildSketch(Plane(origin=(0, 0, 0), x_dir=(-0.7171904301357217, 0, -0.6968772394918195), z_dir=(0.6968772394918195, 0, -0.7171904301357217))):
        with Locations((42.25, 110.65)):
            Rectangle(CROQUIS51_W, CROQUIS51_H)
    extrude(amount=-CORTAR_EXTRUIR29_DEPTH, mode=Mode.SUBTRACT)


solid = part.part
